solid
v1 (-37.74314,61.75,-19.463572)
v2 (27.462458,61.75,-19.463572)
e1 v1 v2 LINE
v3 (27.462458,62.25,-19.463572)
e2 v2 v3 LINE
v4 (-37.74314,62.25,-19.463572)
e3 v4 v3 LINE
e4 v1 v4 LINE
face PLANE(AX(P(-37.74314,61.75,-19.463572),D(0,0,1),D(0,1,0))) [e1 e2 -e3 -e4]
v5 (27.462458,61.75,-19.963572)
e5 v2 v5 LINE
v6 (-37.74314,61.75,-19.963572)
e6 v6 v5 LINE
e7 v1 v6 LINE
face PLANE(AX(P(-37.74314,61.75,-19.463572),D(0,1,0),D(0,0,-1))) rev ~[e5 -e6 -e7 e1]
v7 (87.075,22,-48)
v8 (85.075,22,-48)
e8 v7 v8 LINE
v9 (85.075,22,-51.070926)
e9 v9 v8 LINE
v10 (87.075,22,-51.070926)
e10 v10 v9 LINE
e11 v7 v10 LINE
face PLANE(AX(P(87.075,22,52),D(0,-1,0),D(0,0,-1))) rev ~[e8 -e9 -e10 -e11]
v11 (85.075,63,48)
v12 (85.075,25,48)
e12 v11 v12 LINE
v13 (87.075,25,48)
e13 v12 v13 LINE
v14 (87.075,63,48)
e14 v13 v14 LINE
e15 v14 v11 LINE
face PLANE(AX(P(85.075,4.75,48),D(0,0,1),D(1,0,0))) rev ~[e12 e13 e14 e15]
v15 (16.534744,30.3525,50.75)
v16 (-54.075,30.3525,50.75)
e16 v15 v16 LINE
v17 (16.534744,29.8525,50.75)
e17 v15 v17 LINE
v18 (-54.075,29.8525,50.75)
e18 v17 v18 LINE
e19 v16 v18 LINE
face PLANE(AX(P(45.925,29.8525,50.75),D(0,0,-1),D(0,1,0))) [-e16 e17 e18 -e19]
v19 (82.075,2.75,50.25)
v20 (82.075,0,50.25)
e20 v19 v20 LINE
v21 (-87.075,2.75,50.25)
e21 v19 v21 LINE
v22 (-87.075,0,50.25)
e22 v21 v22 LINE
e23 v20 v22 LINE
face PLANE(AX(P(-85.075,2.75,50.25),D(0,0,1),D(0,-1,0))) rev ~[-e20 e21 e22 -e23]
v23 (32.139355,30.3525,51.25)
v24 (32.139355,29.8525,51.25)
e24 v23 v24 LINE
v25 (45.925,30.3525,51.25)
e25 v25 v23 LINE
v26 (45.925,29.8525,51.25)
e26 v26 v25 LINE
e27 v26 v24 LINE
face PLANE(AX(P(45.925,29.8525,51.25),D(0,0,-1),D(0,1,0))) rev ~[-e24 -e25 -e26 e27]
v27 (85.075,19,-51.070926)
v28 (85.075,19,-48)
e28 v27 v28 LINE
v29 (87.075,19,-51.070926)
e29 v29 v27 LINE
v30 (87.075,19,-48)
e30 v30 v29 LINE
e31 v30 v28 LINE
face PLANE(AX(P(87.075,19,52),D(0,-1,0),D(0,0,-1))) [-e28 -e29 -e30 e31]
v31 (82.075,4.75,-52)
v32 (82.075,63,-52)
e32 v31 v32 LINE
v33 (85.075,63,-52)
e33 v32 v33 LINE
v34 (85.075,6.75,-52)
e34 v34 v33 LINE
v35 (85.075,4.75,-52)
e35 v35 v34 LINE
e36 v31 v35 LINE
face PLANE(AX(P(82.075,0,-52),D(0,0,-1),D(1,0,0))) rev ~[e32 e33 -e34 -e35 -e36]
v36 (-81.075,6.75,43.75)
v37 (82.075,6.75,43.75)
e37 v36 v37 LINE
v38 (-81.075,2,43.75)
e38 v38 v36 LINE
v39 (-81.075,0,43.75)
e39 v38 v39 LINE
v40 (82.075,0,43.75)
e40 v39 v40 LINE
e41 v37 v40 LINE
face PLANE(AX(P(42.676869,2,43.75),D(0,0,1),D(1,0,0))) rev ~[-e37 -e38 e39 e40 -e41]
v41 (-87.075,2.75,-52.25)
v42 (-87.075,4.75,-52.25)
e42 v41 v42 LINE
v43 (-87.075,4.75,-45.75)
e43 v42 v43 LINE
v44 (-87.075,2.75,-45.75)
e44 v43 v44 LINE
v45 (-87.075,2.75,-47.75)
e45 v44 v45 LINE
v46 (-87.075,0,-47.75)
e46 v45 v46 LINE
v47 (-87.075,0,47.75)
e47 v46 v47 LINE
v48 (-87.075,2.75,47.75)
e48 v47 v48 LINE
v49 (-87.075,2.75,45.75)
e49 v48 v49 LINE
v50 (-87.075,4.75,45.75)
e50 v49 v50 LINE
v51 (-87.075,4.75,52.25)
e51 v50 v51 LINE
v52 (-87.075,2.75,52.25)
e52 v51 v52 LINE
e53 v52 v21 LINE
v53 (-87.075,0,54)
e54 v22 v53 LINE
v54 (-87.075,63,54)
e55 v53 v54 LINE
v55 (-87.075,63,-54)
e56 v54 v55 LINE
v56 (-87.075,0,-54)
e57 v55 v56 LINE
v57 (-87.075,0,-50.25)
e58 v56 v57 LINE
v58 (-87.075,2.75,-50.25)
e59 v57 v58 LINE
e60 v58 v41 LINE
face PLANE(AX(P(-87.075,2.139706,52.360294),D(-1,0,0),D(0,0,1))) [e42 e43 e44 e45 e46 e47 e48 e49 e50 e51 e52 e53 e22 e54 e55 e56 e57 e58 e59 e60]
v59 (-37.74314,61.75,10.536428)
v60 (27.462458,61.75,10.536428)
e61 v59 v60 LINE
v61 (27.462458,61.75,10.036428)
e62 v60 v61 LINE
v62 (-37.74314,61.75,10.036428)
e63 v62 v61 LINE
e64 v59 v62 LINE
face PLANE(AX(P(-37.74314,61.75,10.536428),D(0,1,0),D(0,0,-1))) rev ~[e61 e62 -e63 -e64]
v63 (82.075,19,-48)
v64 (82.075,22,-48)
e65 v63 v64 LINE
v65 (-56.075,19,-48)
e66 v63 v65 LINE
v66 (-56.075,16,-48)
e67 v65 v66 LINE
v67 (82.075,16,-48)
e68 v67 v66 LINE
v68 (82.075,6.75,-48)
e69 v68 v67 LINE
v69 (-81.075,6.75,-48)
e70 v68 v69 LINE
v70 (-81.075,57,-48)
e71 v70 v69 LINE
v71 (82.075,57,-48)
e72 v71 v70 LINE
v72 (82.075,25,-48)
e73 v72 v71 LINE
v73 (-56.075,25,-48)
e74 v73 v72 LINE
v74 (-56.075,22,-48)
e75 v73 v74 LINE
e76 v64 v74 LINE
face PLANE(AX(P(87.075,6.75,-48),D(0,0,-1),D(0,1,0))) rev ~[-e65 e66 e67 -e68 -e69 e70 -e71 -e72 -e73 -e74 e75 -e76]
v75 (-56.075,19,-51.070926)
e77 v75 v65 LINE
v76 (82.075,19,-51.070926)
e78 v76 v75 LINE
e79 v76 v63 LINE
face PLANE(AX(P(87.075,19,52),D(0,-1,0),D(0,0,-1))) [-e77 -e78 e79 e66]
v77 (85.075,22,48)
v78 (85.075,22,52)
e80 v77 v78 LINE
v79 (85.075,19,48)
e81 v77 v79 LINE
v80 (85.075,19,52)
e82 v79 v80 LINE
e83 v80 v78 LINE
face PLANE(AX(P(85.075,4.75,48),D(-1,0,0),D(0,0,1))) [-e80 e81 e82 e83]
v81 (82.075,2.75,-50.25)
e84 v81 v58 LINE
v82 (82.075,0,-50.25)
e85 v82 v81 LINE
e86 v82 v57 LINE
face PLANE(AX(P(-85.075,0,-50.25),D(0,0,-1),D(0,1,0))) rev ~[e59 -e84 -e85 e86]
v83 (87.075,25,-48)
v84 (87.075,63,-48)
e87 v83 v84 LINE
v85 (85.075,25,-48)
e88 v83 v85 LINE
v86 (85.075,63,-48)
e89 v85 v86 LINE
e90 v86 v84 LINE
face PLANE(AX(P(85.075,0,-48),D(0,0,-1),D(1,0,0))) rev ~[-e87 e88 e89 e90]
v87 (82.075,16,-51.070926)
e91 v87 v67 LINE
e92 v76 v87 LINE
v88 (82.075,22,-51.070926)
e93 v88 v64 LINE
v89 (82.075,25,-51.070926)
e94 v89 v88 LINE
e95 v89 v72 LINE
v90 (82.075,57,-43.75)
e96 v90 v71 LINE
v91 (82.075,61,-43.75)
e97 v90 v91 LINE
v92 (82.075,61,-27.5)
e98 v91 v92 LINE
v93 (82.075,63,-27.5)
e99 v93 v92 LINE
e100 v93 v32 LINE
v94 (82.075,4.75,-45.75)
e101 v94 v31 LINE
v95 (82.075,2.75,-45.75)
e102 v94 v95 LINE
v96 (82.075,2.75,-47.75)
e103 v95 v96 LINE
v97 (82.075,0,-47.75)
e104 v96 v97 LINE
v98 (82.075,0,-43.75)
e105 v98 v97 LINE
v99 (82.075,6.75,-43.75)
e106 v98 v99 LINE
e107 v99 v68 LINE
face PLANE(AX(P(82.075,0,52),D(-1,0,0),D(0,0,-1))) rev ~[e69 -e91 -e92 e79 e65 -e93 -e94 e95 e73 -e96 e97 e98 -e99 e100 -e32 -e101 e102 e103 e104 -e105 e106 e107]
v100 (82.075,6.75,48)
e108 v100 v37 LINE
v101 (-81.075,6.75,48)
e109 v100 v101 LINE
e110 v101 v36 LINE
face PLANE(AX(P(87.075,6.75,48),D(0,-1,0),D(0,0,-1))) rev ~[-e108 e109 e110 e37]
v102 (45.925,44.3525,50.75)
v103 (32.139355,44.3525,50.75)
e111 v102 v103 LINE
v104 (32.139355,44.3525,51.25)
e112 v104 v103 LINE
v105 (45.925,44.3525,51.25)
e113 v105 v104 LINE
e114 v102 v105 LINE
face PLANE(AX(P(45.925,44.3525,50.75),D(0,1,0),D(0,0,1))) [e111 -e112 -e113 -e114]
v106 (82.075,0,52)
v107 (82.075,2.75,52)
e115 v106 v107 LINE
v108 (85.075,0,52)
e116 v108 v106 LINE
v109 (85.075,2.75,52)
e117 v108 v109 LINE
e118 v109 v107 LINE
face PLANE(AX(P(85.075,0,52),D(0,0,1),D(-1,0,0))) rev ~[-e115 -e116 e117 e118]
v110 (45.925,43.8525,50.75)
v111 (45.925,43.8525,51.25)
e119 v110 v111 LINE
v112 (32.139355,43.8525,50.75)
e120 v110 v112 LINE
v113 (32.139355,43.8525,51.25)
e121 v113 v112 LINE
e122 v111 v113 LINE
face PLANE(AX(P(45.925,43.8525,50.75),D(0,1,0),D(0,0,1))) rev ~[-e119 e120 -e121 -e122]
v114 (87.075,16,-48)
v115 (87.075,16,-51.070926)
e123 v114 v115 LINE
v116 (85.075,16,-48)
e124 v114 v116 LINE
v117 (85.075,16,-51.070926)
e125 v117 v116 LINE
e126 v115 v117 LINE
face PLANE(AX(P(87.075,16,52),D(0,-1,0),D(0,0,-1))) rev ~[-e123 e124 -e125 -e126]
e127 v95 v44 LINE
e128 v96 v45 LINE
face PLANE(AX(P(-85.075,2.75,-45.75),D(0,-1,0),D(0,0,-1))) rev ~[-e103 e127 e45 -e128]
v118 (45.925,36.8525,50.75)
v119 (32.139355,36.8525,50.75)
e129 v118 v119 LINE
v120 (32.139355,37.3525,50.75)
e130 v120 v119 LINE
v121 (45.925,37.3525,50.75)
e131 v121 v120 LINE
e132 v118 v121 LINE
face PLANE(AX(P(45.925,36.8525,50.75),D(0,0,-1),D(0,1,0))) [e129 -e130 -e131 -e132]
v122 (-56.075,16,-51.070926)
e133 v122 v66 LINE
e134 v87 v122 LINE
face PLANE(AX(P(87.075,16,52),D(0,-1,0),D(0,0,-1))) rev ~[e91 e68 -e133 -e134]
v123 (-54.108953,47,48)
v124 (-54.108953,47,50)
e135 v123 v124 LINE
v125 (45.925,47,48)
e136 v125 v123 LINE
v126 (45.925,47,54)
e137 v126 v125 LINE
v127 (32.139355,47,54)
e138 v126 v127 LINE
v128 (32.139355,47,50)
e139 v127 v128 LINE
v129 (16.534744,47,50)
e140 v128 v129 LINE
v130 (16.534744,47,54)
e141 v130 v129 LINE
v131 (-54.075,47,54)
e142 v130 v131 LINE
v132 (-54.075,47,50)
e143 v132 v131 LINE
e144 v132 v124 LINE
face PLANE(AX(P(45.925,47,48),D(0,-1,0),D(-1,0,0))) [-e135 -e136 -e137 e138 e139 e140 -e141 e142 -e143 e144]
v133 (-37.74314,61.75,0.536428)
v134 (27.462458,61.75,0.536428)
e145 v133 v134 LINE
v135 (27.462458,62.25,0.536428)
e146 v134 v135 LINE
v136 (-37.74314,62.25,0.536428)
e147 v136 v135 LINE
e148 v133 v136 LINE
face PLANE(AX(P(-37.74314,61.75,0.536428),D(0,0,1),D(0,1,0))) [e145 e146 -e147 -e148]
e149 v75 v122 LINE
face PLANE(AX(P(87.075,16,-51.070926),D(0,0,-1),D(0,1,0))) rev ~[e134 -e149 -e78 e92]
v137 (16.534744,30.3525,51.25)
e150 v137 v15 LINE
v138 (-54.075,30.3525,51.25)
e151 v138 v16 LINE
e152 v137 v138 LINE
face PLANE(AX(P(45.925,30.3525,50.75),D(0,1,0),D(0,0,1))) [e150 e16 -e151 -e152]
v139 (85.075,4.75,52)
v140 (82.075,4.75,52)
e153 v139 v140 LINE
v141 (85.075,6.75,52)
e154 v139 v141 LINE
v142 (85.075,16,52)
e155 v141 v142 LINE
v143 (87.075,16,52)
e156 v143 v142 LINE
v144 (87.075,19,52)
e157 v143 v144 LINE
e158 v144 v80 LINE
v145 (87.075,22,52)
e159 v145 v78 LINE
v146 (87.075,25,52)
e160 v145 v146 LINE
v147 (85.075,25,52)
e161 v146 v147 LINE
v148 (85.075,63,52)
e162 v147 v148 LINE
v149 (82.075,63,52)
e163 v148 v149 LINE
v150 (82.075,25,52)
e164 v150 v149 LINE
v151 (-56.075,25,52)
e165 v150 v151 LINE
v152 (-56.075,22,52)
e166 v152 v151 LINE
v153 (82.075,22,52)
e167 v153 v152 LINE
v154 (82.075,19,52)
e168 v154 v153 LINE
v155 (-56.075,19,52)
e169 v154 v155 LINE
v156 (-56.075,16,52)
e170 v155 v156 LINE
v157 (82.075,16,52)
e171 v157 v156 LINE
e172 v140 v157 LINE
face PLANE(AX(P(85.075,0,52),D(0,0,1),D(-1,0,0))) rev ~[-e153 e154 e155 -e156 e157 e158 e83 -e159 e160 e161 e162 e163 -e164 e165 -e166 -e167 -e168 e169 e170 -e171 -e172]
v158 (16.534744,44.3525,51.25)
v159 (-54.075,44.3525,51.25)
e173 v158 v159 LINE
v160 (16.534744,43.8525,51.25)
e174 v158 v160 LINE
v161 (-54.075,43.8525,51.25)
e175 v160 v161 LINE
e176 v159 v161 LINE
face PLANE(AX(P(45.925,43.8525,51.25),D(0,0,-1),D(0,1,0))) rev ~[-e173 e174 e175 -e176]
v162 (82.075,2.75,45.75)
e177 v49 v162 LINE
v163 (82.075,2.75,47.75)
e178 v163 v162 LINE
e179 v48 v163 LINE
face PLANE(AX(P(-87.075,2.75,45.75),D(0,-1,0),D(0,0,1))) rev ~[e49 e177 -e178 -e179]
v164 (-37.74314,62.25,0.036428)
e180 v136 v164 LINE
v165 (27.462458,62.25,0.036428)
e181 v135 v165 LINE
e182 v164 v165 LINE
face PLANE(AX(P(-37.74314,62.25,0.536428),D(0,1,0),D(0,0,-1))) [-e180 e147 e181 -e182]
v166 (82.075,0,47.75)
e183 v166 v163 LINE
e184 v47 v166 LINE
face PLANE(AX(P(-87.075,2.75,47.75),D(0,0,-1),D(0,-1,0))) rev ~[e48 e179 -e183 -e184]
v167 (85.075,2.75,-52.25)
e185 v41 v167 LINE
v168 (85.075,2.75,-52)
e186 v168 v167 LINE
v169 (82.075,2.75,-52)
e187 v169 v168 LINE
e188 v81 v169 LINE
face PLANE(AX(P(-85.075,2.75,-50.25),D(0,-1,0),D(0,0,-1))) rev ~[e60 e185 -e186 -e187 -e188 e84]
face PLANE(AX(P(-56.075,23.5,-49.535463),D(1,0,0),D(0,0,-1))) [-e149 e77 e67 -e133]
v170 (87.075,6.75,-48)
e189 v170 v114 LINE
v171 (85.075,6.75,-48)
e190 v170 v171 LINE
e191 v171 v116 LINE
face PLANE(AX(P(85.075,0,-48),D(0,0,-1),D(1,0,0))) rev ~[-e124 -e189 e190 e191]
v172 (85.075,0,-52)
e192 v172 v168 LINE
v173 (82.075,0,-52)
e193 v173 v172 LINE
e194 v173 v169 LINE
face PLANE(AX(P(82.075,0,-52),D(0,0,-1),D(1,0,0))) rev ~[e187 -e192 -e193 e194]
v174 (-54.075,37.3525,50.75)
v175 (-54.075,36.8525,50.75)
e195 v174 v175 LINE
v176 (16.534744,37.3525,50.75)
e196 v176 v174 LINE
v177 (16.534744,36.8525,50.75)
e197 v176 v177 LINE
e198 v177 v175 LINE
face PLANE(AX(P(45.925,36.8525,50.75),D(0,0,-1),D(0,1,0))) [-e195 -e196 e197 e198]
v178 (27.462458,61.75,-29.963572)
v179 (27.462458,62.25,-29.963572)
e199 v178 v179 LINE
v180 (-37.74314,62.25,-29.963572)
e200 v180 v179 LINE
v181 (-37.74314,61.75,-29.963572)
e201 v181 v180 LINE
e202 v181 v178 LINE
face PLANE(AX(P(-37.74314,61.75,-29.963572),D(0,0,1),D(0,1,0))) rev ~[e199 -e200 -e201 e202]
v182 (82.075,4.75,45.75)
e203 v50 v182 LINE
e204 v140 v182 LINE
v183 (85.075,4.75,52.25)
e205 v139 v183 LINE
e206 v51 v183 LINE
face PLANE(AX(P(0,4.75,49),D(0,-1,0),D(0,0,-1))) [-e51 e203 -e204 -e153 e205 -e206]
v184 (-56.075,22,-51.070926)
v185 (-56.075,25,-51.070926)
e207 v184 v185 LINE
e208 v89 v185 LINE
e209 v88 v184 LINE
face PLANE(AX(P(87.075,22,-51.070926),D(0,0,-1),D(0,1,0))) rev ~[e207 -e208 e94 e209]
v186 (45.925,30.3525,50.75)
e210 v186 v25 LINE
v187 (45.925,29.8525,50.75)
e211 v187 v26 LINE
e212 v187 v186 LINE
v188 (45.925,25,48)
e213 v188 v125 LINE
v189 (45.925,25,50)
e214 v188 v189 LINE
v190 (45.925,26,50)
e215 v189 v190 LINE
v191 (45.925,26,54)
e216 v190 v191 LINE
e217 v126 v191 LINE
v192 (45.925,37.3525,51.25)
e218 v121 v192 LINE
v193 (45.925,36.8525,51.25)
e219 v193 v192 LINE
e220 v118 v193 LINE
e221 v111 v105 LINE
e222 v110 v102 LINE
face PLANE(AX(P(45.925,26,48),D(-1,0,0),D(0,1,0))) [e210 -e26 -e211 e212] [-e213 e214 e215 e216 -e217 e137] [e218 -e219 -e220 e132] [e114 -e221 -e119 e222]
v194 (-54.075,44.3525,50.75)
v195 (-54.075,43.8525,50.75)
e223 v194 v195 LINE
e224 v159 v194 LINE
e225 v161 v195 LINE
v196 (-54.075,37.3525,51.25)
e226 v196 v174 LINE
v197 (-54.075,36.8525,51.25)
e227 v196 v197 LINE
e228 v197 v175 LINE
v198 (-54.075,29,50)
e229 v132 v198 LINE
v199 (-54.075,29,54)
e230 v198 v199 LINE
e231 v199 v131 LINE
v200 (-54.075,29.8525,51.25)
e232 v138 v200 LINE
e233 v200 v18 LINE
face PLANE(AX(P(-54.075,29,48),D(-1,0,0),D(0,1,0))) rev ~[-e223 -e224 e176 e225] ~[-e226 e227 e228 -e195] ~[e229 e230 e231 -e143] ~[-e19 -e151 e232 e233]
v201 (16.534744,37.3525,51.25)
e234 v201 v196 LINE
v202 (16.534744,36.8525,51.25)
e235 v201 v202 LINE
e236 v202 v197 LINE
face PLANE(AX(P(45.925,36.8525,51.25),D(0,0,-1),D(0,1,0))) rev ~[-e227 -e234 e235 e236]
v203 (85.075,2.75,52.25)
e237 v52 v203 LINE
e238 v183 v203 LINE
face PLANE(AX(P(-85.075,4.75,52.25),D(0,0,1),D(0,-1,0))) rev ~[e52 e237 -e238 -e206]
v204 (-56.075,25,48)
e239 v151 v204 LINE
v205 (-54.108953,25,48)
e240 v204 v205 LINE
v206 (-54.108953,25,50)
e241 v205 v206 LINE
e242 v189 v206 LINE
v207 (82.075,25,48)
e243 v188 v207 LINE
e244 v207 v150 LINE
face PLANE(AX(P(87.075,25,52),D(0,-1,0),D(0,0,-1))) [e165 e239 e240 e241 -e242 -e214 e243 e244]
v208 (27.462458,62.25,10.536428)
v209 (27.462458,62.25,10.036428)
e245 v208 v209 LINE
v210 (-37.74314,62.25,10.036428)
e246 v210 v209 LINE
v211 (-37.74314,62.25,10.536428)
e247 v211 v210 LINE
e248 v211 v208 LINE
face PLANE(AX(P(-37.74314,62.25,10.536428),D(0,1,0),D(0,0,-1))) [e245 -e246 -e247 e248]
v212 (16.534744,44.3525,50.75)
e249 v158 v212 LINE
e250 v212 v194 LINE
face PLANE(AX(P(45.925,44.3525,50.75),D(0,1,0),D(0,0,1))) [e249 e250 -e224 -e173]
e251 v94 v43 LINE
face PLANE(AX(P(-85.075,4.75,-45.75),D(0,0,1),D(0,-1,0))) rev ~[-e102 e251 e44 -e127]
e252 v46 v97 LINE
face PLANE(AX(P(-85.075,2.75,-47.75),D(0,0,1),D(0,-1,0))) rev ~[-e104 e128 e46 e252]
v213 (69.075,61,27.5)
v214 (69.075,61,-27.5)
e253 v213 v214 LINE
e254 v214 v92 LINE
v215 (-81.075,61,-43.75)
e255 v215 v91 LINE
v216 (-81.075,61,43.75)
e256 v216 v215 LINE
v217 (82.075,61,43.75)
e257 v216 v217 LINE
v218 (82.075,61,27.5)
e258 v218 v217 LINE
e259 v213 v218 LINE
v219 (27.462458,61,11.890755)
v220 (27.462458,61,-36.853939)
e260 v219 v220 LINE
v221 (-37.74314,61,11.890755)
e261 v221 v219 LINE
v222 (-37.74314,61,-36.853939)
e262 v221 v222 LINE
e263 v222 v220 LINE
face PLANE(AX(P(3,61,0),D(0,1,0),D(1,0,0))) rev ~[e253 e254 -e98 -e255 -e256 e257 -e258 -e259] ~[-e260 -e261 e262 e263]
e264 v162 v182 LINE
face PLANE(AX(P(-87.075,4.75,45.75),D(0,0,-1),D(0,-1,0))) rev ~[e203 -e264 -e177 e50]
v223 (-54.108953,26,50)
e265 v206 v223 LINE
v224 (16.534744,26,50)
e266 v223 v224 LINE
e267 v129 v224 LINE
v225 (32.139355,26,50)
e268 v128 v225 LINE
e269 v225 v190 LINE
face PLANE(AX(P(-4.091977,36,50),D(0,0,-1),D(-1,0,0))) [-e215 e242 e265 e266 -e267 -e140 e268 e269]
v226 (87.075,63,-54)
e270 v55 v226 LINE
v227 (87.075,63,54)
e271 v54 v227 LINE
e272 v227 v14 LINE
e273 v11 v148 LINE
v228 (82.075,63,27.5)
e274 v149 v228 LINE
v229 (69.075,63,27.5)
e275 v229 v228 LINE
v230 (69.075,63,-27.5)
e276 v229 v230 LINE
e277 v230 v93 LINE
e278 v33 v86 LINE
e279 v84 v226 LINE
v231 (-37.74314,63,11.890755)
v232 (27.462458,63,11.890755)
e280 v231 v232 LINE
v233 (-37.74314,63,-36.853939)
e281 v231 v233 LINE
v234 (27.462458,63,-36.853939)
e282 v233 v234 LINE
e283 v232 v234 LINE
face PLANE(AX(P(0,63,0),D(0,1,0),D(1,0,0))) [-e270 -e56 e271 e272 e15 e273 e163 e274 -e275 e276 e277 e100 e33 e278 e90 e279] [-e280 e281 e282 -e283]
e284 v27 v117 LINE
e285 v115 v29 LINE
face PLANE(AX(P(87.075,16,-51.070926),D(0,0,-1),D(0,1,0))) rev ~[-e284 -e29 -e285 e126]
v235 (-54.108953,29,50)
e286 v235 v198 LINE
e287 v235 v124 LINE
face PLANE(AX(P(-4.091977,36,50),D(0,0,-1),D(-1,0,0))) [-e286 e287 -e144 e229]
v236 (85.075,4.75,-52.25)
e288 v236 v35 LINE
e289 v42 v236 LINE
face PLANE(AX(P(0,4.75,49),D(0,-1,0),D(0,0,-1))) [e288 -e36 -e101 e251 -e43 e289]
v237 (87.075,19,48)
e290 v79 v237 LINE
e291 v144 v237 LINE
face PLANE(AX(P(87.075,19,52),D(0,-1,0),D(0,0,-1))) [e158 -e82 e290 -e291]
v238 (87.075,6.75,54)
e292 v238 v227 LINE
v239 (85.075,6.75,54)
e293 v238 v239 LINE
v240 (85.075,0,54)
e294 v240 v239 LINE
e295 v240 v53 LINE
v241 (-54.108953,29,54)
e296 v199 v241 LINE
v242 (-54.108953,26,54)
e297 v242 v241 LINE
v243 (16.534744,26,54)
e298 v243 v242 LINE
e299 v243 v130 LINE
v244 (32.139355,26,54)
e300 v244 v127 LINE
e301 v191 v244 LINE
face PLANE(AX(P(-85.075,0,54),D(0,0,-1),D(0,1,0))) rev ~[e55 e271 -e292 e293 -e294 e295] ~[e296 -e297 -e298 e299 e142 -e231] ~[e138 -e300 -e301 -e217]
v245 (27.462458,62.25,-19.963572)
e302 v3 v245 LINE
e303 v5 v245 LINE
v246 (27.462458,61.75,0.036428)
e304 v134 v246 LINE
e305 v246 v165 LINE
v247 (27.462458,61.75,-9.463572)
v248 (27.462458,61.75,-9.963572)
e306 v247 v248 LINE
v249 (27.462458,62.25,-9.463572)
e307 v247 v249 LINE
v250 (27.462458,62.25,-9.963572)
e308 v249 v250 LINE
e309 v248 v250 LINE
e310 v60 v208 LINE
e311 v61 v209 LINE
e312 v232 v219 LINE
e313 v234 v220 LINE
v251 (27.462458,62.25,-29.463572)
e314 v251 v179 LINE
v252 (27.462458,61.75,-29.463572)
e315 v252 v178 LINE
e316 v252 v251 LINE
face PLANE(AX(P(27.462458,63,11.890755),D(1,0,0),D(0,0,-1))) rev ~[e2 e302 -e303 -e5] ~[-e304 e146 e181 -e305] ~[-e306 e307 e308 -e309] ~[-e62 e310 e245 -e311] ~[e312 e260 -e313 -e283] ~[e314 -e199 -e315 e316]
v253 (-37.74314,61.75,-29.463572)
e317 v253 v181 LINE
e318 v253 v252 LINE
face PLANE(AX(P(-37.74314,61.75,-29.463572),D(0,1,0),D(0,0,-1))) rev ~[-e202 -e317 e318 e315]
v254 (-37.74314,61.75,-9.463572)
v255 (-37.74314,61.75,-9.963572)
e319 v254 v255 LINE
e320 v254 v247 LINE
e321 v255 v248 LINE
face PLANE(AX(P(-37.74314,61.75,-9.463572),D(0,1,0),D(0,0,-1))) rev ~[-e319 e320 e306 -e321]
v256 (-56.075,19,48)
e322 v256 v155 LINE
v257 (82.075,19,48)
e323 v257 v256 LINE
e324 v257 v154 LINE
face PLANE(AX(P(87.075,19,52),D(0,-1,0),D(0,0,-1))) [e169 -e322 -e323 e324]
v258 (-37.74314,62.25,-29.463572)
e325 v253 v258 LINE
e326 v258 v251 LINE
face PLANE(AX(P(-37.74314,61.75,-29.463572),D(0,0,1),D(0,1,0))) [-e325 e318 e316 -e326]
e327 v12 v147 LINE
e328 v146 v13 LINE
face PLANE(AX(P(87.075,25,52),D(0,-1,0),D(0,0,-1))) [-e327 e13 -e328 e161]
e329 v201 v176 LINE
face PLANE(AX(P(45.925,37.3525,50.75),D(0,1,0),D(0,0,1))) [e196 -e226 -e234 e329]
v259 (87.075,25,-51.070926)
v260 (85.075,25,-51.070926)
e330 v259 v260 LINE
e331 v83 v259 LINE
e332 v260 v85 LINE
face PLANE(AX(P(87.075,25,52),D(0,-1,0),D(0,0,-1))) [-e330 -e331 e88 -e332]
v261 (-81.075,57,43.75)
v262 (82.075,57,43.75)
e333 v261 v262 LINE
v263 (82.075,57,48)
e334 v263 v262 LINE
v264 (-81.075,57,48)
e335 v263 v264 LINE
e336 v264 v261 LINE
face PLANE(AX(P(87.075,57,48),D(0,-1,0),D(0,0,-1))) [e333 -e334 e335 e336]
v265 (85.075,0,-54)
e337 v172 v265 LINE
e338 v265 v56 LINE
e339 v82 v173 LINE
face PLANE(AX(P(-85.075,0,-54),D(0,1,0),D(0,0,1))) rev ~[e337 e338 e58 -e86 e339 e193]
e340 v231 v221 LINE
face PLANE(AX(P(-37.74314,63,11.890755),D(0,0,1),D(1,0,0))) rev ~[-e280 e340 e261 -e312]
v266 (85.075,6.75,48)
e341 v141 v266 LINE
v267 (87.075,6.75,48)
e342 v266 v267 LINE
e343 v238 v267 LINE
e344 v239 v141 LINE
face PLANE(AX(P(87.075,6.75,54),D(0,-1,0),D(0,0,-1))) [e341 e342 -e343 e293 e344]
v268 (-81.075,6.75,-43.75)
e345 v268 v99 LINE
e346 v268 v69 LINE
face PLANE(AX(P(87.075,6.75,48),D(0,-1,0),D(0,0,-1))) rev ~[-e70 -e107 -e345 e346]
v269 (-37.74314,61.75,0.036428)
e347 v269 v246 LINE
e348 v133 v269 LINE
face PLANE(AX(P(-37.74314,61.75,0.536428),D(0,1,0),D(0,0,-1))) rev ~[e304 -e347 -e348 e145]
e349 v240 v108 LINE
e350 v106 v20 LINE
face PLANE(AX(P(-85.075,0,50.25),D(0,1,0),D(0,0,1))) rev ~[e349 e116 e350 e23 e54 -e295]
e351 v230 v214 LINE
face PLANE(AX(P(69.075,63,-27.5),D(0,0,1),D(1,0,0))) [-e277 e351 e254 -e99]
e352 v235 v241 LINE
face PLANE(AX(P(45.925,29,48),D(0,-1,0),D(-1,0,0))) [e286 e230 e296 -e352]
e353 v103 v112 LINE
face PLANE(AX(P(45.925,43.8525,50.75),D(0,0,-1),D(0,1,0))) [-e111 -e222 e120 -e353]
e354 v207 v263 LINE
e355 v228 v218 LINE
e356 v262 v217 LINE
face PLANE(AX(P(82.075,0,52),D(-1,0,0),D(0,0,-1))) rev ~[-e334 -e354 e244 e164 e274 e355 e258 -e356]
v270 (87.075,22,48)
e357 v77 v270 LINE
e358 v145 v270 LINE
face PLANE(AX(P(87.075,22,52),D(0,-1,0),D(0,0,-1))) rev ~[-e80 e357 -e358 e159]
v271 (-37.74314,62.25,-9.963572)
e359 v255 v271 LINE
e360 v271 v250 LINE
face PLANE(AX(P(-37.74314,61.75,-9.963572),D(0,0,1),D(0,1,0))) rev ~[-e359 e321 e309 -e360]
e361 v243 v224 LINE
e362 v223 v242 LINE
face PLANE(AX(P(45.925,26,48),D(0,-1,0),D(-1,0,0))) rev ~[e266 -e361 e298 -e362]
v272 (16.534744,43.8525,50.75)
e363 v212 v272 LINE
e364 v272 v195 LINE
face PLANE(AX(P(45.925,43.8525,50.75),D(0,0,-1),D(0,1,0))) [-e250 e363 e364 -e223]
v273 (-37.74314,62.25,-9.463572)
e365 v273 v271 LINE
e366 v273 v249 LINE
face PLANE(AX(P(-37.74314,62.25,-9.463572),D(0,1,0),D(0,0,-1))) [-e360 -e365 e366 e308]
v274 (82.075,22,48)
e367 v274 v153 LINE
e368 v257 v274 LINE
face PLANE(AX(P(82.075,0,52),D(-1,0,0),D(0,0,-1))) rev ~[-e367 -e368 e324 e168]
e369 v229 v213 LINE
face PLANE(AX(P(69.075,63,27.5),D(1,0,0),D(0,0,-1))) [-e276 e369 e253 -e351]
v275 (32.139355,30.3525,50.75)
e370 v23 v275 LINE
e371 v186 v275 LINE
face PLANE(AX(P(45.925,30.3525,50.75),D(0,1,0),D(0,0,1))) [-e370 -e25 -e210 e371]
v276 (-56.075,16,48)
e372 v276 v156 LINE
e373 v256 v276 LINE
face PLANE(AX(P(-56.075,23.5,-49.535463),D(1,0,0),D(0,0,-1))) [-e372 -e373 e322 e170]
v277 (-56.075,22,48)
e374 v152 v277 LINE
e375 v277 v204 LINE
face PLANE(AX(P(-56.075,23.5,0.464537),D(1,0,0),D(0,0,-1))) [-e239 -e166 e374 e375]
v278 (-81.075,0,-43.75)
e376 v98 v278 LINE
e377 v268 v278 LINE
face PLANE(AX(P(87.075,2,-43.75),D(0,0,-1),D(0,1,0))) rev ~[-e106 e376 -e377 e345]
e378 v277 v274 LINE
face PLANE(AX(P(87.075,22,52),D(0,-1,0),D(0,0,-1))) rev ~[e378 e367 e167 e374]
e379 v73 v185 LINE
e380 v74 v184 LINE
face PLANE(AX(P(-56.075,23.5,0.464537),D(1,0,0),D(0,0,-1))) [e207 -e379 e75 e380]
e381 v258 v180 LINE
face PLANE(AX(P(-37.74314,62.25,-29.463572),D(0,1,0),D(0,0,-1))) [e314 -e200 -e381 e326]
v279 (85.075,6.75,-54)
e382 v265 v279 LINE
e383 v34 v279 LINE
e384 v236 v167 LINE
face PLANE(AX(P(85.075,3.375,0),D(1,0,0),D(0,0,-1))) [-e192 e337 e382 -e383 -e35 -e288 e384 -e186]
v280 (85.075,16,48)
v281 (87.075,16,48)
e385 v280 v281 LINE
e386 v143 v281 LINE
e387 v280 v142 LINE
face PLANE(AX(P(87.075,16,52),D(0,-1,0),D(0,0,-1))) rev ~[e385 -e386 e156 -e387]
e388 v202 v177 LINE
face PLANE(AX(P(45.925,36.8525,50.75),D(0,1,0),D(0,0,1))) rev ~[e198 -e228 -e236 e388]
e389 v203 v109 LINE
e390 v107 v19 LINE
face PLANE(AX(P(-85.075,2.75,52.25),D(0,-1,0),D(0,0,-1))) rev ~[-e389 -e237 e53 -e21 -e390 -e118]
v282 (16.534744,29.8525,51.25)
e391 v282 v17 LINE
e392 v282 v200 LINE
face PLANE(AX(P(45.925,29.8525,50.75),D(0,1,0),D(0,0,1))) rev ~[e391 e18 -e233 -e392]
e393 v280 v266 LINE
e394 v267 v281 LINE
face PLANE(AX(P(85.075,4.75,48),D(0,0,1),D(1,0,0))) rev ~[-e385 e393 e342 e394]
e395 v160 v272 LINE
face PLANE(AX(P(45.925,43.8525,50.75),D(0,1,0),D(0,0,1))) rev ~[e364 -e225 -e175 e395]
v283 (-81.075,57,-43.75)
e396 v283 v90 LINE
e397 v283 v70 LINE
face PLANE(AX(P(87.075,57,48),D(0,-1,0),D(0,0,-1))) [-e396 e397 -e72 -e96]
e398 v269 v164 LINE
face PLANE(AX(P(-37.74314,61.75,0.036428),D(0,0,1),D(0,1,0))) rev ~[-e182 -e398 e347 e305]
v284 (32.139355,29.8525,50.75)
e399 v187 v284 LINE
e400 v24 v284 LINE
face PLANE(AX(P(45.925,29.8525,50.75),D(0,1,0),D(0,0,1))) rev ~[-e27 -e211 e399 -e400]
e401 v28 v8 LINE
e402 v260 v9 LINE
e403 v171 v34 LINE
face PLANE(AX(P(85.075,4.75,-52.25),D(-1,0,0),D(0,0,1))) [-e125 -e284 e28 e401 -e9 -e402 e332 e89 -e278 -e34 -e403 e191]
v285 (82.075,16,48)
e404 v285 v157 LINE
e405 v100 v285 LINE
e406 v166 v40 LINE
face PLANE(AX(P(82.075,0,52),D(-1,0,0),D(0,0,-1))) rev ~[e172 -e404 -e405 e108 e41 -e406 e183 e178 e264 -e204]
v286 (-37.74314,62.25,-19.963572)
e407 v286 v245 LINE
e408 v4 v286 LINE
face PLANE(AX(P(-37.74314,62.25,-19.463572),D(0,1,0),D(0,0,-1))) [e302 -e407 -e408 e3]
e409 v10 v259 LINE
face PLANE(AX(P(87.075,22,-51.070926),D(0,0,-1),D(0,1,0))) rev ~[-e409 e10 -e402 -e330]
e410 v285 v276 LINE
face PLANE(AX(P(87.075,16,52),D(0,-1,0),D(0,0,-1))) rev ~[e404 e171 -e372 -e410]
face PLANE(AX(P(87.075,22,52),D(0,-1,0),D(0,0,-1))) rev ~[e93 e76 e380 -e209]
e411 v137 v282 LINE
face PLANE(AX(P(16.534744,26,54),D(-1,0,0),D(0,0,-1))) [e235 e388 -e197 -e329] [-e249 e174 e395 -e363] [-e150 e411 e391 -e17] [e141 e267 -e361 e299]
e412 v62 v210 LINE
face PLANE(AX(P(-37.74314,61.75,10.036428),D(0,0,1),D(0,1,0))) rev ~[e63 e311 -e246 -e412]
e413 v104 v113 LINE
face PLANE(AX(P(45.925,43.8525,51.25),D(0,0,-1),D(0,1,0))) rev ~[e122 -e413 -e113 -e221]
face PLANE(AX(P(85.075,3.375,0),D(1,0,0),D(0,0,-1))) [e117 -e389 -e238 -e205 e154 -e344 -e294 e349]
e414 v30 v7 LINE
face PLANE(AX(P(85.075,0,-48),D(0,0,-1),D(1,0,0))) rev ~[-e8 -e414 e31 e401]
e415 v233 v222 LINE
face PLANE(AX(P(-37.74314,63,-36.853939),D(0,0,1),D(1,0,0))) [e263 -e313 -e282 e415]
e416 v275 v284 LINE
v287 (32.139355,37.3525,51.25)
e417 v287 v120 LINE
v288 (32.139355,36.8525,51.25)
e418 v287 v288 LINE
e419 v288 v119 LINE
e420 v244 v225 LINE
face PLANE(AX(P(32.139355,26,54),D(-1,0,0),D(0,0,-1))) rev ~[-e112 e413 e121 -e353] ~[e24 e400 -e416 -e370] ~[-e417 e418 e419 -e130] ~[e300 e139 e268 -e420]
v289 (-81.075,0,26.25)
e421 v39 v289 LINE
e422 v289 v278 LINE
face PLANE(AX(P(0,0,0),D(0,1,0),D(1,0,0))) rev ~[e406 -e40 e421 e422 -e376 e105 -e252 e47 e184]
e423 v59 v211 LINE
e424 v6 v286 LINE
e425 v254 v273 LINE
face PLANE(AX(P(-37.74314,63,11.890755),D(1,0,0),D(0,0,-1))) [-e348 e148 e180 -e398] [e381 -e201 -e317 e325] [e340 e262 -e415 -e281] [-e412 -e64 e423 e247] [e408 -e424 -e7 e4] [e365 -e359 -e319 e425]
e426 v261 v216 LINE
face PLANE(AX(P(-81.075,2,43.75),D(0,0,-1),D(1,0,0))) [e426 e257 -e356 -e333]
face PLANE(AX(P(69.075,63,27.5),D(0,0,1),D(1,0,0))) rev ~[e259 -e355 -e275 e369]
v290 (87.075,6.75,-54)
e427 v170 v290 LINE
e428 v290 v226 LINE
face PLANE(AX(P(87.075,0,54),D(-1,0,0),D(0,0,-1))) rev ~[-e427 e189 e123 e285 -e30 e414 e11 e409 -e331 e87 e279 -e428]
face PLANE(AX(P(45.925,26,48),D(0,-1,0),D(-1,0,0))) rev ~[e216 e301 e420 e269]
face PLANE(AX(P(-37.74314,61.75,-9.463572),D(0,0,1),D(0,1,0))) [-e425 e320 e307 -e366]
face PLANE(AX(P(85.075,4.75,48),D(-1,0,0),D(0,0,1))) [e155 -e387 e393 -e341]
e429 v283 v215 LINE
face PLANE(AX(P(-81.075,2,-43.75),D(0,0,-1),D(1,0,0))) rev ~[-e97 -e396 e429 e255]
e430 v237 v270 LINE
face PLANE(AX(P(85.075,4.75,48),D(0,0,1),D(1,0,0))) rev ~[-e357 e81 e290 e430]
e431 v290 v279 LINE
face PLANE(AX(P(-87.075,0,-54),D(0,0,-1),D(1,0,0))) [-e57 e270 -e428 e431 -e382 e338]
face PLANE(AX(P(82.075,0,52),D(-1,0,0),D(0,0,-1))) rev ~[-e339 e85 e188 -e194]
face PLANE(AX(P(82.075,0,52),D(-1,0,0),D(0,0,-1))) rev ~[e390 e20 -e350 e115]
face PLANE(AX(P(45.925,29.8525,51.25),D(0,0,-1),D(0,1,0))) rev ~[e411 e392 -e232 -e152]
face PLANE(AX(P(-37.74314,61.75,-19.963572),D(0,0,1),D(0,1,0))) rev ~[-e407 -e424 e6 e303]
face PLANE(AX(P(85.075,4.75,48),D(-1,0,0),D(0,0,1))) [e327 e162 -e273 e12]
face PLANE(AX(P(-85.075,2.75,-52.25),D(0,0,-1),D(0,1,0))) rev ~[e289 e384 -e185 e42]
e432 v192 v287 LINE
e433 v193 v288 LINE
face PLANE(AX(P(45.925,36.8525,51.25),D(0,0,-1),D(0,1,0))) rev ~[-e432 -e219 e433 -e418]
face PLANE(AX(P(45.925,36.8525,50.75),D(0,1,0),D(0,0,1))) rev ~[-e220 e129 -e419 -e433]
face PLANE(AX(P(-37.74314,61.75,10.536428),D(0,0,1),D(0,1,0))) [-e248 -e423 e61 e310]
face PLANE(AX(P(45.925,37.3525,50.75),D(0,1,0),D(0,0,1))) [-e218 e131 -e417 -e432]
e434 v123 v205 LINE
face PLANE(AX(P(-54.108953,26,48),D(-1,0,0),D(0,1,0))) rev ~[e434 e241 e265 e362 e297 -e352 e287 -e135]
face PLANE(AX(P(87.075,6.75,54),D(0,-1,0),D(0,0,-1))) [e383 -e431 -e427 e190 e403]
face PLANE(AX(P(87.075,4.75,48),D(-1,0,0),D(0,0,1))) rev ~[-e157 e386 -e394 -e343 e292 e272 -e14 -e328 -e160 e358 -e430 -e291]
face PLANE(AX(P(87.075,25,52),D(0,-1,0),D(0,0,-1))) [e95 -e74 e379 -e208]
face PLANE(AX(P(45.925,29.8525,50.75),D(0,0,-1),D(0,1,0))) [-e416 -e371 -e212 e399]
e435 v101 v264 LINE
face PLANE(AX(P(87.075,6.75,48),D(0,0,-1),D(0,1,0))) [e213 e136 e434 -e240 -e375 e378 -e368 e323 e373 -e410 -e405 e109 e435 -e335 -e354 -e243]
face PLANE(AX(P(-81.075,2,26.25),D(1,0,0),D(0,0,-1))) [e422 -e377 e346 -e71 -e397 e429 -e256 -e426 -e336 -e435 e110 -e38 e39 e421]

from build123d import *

# Parameters (mm, degrees)
SKETCH_1_W           = 174.15
SKETCH_1_H           = 108
EXTRUDE_1_DEPTH      = 63
CUT_EXTRUDE_2_DEPTH  = 174.15
CUT_EXTRUDE_3_REACH  = 122.279
SKETCH_6_W           = 2
SKETCH_6_H           = 108
SKETCH_7_W           = 96
SKETCH_7_H           = 50.25
CUT_EXTRUDE_5_DEPTH  = 168.15
SKETCH_8_W           = 87.5
SKETCH_8_H           = 4.75
CUT_EXTRUDE_6_DEPTH  = 168.15
SKETCH_10_W          = 168.15
SKETCH_10_H          = 87.5
CUT_EXTRUDE_8_DEPTH  = 59
SKETCH_12_W          = 168.15
SKETCH_12_H          = 96
EXTRUDE_2_DEPTH      = 2
SKETCH_15_W          = 25
SKETCH_15_H          = 70
SKETCH_15_W_2        = 55
SKETCH_15_H_2        = 20
SKETCH_15_W_3        = 44.398131355
SKETCH_15_H_3        = 87.5
CUT_EXTRUDE_9_DEPTH  = 2
SKETCH_16_W          = 25
SKETCH_16_H          = 96
SKETCH_16_W_2        = 32.283516817
CUT_EXTRUDE_10_DEPTH = 2
SKETCH_17_W          = 2
SKETCH_17_H          = 96
EXTRUDE_3_DEPTH      = 5
SKETCH_18_W          = 2
SKETCH_18_H          = 87.5
EXTRUDE_4_DEPTH      = 5
SKETCH_19_W          = 100
SKETCH_19_H          = 18
CUT_EXTRUDE_11_DEPTH = 6
SKETCH_23_W          = 65.205598619
SKETCH_23_H          = 48.744694075
CUT_EXTRUDE_13_DEPTH = 2
CUT_EXTRUDE_START    = -63
CUT_EXTRUDE_14_DEPTH = 63
SKETCH_28_W          = 2
SKETCH_28_H          = 4.25
EXTRUDE_6_DEPTH      = 4.75
SKETCH_31_W          = 13
SKETCH_31_H          = 55
CUT_EXTRUDE_15_DEPTH = 10
SKETCH_34_W          = 103.070926165
SKETCH_34_H          = 3
CUT_EXTRUDE_16_DEPTH = 143.15
SKETCH_37_W          = 96
SKETCH_37_H          = 4
CUT_EXTRUDE_17_DEPTH = 10
SKETCH_38_W          = 123.751868645
SKETCH_38_H          = 87.5
CUT_EXTRUDE_18_DEPTH = 10
CUT_EXTRUDE_20_REACH = 194.907
SKETCH_42_W          = 103.070926165
SKETCH_42_H          = 3
SKETCH_45_W          = 100.033953054
SKETCH_45_H          = 3
CUT_EXTRUDE_21_DEPTH = 6
SKETCH_46_W          = 15.60461182
SKETCH_46_H          = 6
EXTRUDE_7_DEPTH      = 21
SKETCH_47_W          = 100.033953054
SKETCH_47_H          = 22
CUT_EXTRUDE_22_DEPTH = 2
SKETCH_48_W          = 87.5
SKETCH_48_H          = 5
CUT_EXTRUDE_23_DEPTH = 2
SKETCH_49_W          = 108
SKETCH_49_H          = 6.75
CUT_EXTRUDE_24_DEPTH = 2
EXTRUDE_8_DEPTH      = 2
SKETCH_54_W          = 0.5
SKETCH_54_H          = 0.5
EXTRUDE_10_DEPTH     = 65.205598619
EXTRUDE_11_REACH     = 158.761
SKETCH_55_W          = 0.5
SKETCH_55_H          = 0.5


with BuildPart() as part:
    # 스케치1 → 보스-돌출1 (new body)
    with BuildSketch(Plane(origin=(0, 0, 0), x_dir=(1, 0, 0), z_dir=(0, 1, 0))):
        Rectangle(SKETCH_1_W, SKETCH_1_H)
    extrude(amount=EXTRUDE_1_DEPTH)

    # 스케치5 → 컷-돌출2 (cut)
    with BuildSketch(Plane.ZY.offset(87.075)):
        Polygon((-48, 0), (-47.75, 0), (-47.75, 2.75), (-45.75, 2.75), (-45.75, 4.75), (-52.25, 4.75), (-52.25, 2.75), (-50.25, 2.75), (-50.25, 0), (-50, 0), (-50, 3), (-52, 3), (-52, 4.5), (-46, 4.5), (-46, 3), (-48, 3), align=None)
        Polygon((-50, 0), (-48, 0), (-48, 3), (-46, 3), (-46, 4.5), (-52, 4.5), (-52, 3), (-50, 3), align=None)
        Polygon((50, 3), (50, 0), (50.25, 0), (50.25, 2.75), (52.25, 2.75), (52.25, 4.75), (45.75, 4.75), (45.75, 2.75), (47.75, 2.75), (47.75, 0), (48, 0), (48, 3), (46, 3), (46, 4.5), (52, 4.5), (52, 3), align=None)
        Polygon((48, 0), (50, 0), (50, 3), (52, 3), (52, 4.5), (46, 4.5), (46, 3), (48, 3), align=None)
    extrude(amount=-CUT_EXTRUDE_2_DEPTH, mode=Mode.SUBTRACT)

    # 컷-돌출3: up to this face of the body (flat: up to its plane)
    cut_extrude_3_end = Plane(part.part.faces().sort_by_distance((0, 4.75, 49))[0])
    # 스케치6 → 컷-돌출3 (cut, up to the picked face)
    with BuildSketch(Plane.XZ, mode=Mode.PRIVATE) as cut_extrude_3_sk1:
        with Locations((-86.075, 0)):
            Rectangle(SKETCH_6_W, SKETCH_6_H)
    cut_extrude_3_tool1 = split(extrude(cut_extrude_3_sk1.sketch, amount=-CUT_EXTRUDE_3_REACH, mode=Mode.PRIVATE), bisect_by=cut_extrude_3_end, keep=Keep.BOTH, mode=Mode.PRIVATE)
    add(cut_extrude_3_tool1.solids().sort_by(Axis((-86.075, 0, 0), (0, 1, 0)))[0], mode=Mode.SUBTRACT)

    # 스케치7 → 컷-돌출5 (cut)
    with BuildSketch(Plane(origin=(87.075, 0, 0), x_dir=(0, 0, -1), z_dir=(1, 0, 0))):
        with Locations((0, 31.875)):
            Rectangle(SKETCH_7_W, SKETCH_7_H)
    extrude(amount=-CUT_EXTRUDE_5_DEPTH, mode=Mode.SUBTRACT)

    # 스케치8 → 컷-돌출6 (cut)
    with BuildSketch(Plane(origin=(87.075, 0, 0), x_dir=(0, 0, -1), z_dir=(1, 0, 0))):
        with Locations((0, 4.375)):
            Rectangle(SKETCH_8_W, SKETCH_8_H)
    extrude(amount=-CUT_EXTRUDE_6_DEPTH, mode=Mode.SUBTRACT)

    # 스케치10 → 컷-돌출8 (cut)
    with BuildSketch(Plane(origin=(0, 2, 0), x_dir=(1, 0, 0), z_dir=(0, 1, 0))):
        with Locations((3, 0)):
            Rectangle(SKETCH_10_W, SKETCH_10_H)
    extrude(amount=CUT_EXTRUDE_8_DEPTH, mode=Mode.SUBTRACT)

    # 스케치12 → 보스-돌출2 (add)
    with BuildSketch(Plane(origin=(0, 24, 0), x_dir=(-1, 0, 0), z_dir=(0, -1, 0))):
        with Locations((-3, 0)):
            Rectangle(SKETCH_12_W, SKETCH_12_H)
    extrude(amount=EXTRUDE_2_DEPTH)

    # 스케치15 → 컷-돌출9 (cut)
    with BuildSketch(Plane(origin=(0, 2, 0), x_dir=(1, 0, 0), z_dir=(0, 1, 0))):
        with Locations((-68.575, 8.75)):
            Rectangle(SKETCH_15_W, SKETCH_15_H)
        with Locations((-9.233175572, -33.75)):
            Rectangle(SKETCH_15_W_2, SKETCH_15_H_2)
        with Locations((64.875934323, 0)):
            Rectangle(SKETCH_15_W_3, SKETCH_15_H_3)
    extrude(amount=-CUT_EXTRUDE_9_DEPTH, mode=Mode.SUBTRACT)

    # 스케치16 → 컷-돌출10 (cut)
    with BuildSketch(Plane(origin=(0, 24, 0), x_dir=(1, 0, 0), z_dir=(0, 1, 0))):
        with Locations((-68.575, 0)):
            Rectangle(SKETCH_16_W, SKETCH_16_H)
        with Locations((70.933241592, 0)):
            Rectangle(SKETCH_16_W_2, SKETCH_16_H)
    extrude(amount=-CUT_EXTRUDE_10_DEPTH, mode=Mode.SUBTRACT)

    # 스케치17 → 보스-돌출3 (add)
    with BuildSketch(Plane(origin=(0, 24, 0), x_dir=(1, 0, 0), z_dir=(0, 1, 0))):
        with Locations((-55.075, 0)):
            Rectangle(SKETCH_17_W, SKETCH_17_H)
    extrude(amount=EXTRUDE_3_DEPTH)

    # 스케치18 → 보스-돌출4 (add)
    with BuildSketch(Plane(origin=(0, 2, 0), x_dir=(1, 0, 0), z_dir=(0, 1, 0))):
        with Locations((-55.075, 0)):
            Rectangle(SKETCH_18_W, SKETCH_18_H)
    extrude(amount=EXTRUDE_4_DEPTH)

    # 스케치19 → 컷-돌출11 (cut)
    with BuildSketch(Plane(origin=(0, 0, 48), x_dir=(-1, 0, 0), z_dir=(0, 0, -1))):
        with Locations((4.075, 38)):
            Rectangle(SKETCH_19_W, SKETCH_19_H)
    extrude(amount=-CUT_EXTRUDE_11_DEPTH, mode=Mode.SUBTRACT)

    # 스케치23 → 컷-돌출13 (cut)
    with BuildSketch(Plane(origin=(0, 63, 0), x_dir=(1, 0, 0), z_dir=(0, 1, 0))):
        with Locations((-5.140341164, 12.481591832)):
            Rectangle(SKETCH_23_W, SKETCH_23_H)
    extrude(amount=-CUT_EXTRUDE_13_DEPTH, mode=Mode.SUBTRACT)

    # 스케치26 → 컷-돌출14 (cut)
    with BuildSketch(Plane(origin=(0, 63, 0), x_dir=(1, 0, 0), z_dir=(0, 1, 0)).offset(CUT_EXTRUDE_START)):
        Polygon((82.075, 52), (85.075, 52), (85.075, 48), (87.075, 48), (87.075, -48), (85.075, -48), (85.075, -52), (82.075, -52), align=None)
    extrude(amount=CUT_EXTRUDE_14_DEPTH, mode=Mode.SUBTRACT)

    # 스케치28 → 보스-돌출6 (add)
    with BuildSketch(Plane.XZ.offset(-4.75)):
        with Locations((86.075, 50.125)):
            Rectangle(SKETCH_28_W, SKETCH_28_H)
        with Locations((86.075, -50.125)):
            Rectangle(SKETCH_28_W, SKETCH_28_H)
    extrude(amount=EXTRUDE_6_DEPTH)

    # 스케치31 → 컷-돌출15 (cut)
    with BuildSketch(Plane(origin=(0, 63, 0), x_dir=(1, 0, 0), z_dir=(0, 1, 0))):
        with Locations((75.575, 0)):
            Rectangle(SKETCH_31_W, SKETCH_31_H)
    extrude(amount=-CUT_EXTRUDE_15_DEPTH, mode=Mode.SUBTRACT)

    # 스케치34 → 컷-돌출16 (cut)
    with BuildSketch(Plane(origin=(87.075, 0, 0), x_dir=(0, 0, -1), z_dir=(1, 0, 0))):
        with Locations((-0.464536917, 23.5)):
            Rectangle(SKETCH_34_W, SKETCH_34_H)
    extrude(amount=-CUT_EXTRUDE_16_DEPTH, mode=Mode.SUBTRACT)

    # 스케치37 → 컷-돌출17 (cut)
    with BuildSketch(Plane(origin=(-54.075, 0, 0), x_dir=(0, 0, -1), z_dir=(1, 0, 0))):
        with Locations((0, 27)):
            Rectangle(SKETCH_37_W, SKETCH_37_H)
    extrude(amount=-CUT_EXTRUDE_17_DEPTH, mode=Mode.SUBTRACT)

    # 스케치38 → 컷-돌출18 (cut)
    with BuildSketch(Plane(origin=(0, 2, 0), x_dir=(1, 0, 0), z_dir=(0, 1, 0))):
        with Locations((-19.199065677, 0)):
            Rectangle(SKETCH_38_W, SKETCH_38_H)
    extrude(amount=-CUT_EXTRUDE_18_DEPTH, mode=Mode.SUBTRACT)

    # 컷-돌출20: up to this face of the body (flat: up to its plane)
    cut_extrude_20_end = Plane(part.part.faces().sort_by_distance((-56.075, 23.5, -49.535463082))[0])
    # 스케치42 → 컷-돌출20 (cut, up to the picked face)
    with BuildSketch(Plane(origin=(87.075, 0, 0), x_dir=(0, 0, -1), z_dir=(1, 0, 0)), mode=Mode.PRIVATE) as cut_extrude_20_sk1:
        with Locations((-0.464536917, 17.5)):
            Rectangle(SKETCH_42_W, SKETCH_42_H)
    cut_extrude_20_tool1 = split(extrude(cut_extrude_20_sk1.sketch, amount=-CUT_EXTRUDE_20_REACH, mode=Mode.PRIVATE), bisect_by=cut_extrude_20_end, keep=Keep.BOTH, mode=Mode.PRIVATE)
    add(cut_extrude_20_tool1.solids().sort_by(Axis((87.075, 17.5, 0.464537), (-1, 0, 0)))[0], mode=Mode.SUBTRACT)

    # 스케치45 → 컷-돌출21 (cut)
    with BuildSketch(Plane(origin=(0, 0, 48), x_dir=(-1, 0, 0), z_dir=(0, 0, -1))):
        with Locations((4.091976527, 27.5)):
            Rectangle(SKETCH_45_W, SKETCH_45_H)
    extrude(amount=-CUT_EXTRUDE_21_DEPTH, mode=Mode.SUBTRACT)

    # 스케치46 → 보스-돌출7 (add)
    with BuildSketch(Plane(origin=(0, 26, 0), x_dir=(1, 0, 0), z_dir=(0, 1, 0))):
        with Locations((24.337049492, -51)):
            Rectangle(SKETCH_46_W, SKETCH_46_H)
    extrude(amount=EXTRUDE_7_DEPTH)

    # 스케치47 → 컷-돌출22 (cut)
    with BuildSketch(Plane(origin=(0, 0, 48), x_dir=(-1, 0, 0), z_dir=(0, 0, -1))):
        with Locations((4.091976527, 36)):
            Rectangle(SKETCH_47_W, SKETCH_47_H)
    extrude(amount=-CUT_EXTRUDE_22_DEPTH, mode=Mode.SUBTRACT)

    # 스케치48 → 컷-돌출23 (cut)
    with BuildSketch(Plane(origin=(-54.075, 0, 0), x_dir=(0, 0, -1), z_dir=(1, 0, 0))):
        with Locations((0, 4.5)):
            Rectangle(SKETCH_48_W, SKETCH_48_H)
    extrude(amount=-CUT_EXTRUDE_23_DEPTH, mode=Mode.SUBTRACT)

    # 스케치49 → 컷-돌출24 (cut)
    with BuildSketch(Plane(origin=(87.075, 0, 0), x_dir=(0, 0, -1), z_dir=(1, 0, 0))):
        with Locations((0, 3.375)):
            Rectangle(SKETCH_49_W, SKETCH_49_H)
    extrude(amount=-CUT_EXTRUDE_24_DEPTH, mode=Mode.SUBTRACT)

    # 스케치51 → 보스-돌출8 (add)
    with BuildSketch(Plane.ZY.offset(85.075)):
        Polygon((52.25, 2.75), (50.25, 2.75), (50.25, 0), (54, 0), (54, 4.75), (52.25, 4.75), align=None)
        Polygon((-52.25, 2.75), (-52.25, 4.75), (-54, 4.75), (-54, 0), (-50.25, 0), (-50.25, 2.75), align=None)
        Polygon((47.75, 2.75), (45.75, 2.75), (45.75, 4.75), (-45.75, 4.75), (-45.75, 2.75), (-47.75, 2.75), (-47.75, 0), (47.75, 0), align=None)
    extrude(amount=EXTRUDE_8_DEPTH)

    # 스케치54 → 보스-돌출10 (add)
    with BuildSketch(Plane(origin=(-37.743140474, 0, 0), x_dir=(0, 0, -1), z_dir=(1, 0, 0))):
        with Locations((-10.286427881, 62)):
            Rectangle(SKETCH_54_W, SKETCH_54_H)
        with Locations((-0.286427881, 62)):
            Rectangle(SKETCH_54_W, SKETCH_54_H)
        with Locations((9.713572119, 62)):
            Rectangle(SKETCH_54_W, SKETCH_54_H)
        with Locations((19.713572119, 62)):
            Rectangle(SKETCH_54_W, SKETCH_54_H)
        with Locations((29.713572119, 62)):
            Rectangle(SKETCH_54_W, SKETCH_54_H)
    extrude(amount=EXTRUDE_10_DEPTH)

    # 보스-돌출11: up to this face of the body (flat: up to its plane)
    extrude_11_end = Plane(part.part.faces().sort_by_distance((-87.075, 31.667900174, 0))[0])
    # 스케치55 → 보스-돌출11 (add, up to the picked face)
    with BuildSketch(Plane.ZY.offset(-45.925), mode=Mode.PRIVATE) as extrude_11_sk1:
        with Locations((51, 44.102500149)):
            Rectangle(SKETCH_55_W, SKETCH_55_H)
    extrude_11_tool1 = split(extrude(extrude_11_sk1.sketch, amount=EXTRUDE_11_REACH, mode=Mode.PRIVATE), bisect_by=extrude_11_end, keep=Keep.BOTH, mode=Mode.PRIVATE)
    # 스케치55 → 보스-돌출11 (add, up to the picked face)
    with BuildSketch(Plane.ZY.offset(-45.925), mode=Mode.PRIVATE) as extrude_11_sk2:
        with Locations((51, 37.102500149)):
            Rectangle(SKETCH_55_W, SKETCH_55_H)
    extrude_11_tool2 = split(extrude(extrude_11_sk2.sketch, amount=EXTRUDE_11_REACH, mode=Mode.PRIVATE), bisect_by=extrude_11_end, keep=Keep.BOTH, mode=Mode.PRIVATE)
    # 스케치55 → 보스-돌출11 (add, up to the picked face)
    with BuildSketch(Plane.ZY.offset(-45.925), mode=Mode.PRIVATE) as extrude_11_sk3:
        with Locations((51, 30.102500149)):
            Rectangle(SKETCH_55_W, SKETCH_55_H)
    extrude_11_tool3 = split(extrude(extrude_11_sk3.sketch, amount=EXTRUDE_11_REACH, mode=Mode.PRIVATE), bisect_by=extrude_11_end, keep=Keep.BOTH, mode=Mode.PRIVATE)
    add(extrude_11_tool1.solids().sort_by(Axis((45.925, 44.1025, 51), (-1, 0, 0)))[0])
    add(extrude_11_tool2.solids().sort_by(Axis((45.925, 37.1025, 51), (-1, 0, 0)))[0])
    add(extrude_11_tool3.solids().sort_by(Axis((45.925, 30.1025, 51), (-1, 0, 0)))[0])


solid = part.part
